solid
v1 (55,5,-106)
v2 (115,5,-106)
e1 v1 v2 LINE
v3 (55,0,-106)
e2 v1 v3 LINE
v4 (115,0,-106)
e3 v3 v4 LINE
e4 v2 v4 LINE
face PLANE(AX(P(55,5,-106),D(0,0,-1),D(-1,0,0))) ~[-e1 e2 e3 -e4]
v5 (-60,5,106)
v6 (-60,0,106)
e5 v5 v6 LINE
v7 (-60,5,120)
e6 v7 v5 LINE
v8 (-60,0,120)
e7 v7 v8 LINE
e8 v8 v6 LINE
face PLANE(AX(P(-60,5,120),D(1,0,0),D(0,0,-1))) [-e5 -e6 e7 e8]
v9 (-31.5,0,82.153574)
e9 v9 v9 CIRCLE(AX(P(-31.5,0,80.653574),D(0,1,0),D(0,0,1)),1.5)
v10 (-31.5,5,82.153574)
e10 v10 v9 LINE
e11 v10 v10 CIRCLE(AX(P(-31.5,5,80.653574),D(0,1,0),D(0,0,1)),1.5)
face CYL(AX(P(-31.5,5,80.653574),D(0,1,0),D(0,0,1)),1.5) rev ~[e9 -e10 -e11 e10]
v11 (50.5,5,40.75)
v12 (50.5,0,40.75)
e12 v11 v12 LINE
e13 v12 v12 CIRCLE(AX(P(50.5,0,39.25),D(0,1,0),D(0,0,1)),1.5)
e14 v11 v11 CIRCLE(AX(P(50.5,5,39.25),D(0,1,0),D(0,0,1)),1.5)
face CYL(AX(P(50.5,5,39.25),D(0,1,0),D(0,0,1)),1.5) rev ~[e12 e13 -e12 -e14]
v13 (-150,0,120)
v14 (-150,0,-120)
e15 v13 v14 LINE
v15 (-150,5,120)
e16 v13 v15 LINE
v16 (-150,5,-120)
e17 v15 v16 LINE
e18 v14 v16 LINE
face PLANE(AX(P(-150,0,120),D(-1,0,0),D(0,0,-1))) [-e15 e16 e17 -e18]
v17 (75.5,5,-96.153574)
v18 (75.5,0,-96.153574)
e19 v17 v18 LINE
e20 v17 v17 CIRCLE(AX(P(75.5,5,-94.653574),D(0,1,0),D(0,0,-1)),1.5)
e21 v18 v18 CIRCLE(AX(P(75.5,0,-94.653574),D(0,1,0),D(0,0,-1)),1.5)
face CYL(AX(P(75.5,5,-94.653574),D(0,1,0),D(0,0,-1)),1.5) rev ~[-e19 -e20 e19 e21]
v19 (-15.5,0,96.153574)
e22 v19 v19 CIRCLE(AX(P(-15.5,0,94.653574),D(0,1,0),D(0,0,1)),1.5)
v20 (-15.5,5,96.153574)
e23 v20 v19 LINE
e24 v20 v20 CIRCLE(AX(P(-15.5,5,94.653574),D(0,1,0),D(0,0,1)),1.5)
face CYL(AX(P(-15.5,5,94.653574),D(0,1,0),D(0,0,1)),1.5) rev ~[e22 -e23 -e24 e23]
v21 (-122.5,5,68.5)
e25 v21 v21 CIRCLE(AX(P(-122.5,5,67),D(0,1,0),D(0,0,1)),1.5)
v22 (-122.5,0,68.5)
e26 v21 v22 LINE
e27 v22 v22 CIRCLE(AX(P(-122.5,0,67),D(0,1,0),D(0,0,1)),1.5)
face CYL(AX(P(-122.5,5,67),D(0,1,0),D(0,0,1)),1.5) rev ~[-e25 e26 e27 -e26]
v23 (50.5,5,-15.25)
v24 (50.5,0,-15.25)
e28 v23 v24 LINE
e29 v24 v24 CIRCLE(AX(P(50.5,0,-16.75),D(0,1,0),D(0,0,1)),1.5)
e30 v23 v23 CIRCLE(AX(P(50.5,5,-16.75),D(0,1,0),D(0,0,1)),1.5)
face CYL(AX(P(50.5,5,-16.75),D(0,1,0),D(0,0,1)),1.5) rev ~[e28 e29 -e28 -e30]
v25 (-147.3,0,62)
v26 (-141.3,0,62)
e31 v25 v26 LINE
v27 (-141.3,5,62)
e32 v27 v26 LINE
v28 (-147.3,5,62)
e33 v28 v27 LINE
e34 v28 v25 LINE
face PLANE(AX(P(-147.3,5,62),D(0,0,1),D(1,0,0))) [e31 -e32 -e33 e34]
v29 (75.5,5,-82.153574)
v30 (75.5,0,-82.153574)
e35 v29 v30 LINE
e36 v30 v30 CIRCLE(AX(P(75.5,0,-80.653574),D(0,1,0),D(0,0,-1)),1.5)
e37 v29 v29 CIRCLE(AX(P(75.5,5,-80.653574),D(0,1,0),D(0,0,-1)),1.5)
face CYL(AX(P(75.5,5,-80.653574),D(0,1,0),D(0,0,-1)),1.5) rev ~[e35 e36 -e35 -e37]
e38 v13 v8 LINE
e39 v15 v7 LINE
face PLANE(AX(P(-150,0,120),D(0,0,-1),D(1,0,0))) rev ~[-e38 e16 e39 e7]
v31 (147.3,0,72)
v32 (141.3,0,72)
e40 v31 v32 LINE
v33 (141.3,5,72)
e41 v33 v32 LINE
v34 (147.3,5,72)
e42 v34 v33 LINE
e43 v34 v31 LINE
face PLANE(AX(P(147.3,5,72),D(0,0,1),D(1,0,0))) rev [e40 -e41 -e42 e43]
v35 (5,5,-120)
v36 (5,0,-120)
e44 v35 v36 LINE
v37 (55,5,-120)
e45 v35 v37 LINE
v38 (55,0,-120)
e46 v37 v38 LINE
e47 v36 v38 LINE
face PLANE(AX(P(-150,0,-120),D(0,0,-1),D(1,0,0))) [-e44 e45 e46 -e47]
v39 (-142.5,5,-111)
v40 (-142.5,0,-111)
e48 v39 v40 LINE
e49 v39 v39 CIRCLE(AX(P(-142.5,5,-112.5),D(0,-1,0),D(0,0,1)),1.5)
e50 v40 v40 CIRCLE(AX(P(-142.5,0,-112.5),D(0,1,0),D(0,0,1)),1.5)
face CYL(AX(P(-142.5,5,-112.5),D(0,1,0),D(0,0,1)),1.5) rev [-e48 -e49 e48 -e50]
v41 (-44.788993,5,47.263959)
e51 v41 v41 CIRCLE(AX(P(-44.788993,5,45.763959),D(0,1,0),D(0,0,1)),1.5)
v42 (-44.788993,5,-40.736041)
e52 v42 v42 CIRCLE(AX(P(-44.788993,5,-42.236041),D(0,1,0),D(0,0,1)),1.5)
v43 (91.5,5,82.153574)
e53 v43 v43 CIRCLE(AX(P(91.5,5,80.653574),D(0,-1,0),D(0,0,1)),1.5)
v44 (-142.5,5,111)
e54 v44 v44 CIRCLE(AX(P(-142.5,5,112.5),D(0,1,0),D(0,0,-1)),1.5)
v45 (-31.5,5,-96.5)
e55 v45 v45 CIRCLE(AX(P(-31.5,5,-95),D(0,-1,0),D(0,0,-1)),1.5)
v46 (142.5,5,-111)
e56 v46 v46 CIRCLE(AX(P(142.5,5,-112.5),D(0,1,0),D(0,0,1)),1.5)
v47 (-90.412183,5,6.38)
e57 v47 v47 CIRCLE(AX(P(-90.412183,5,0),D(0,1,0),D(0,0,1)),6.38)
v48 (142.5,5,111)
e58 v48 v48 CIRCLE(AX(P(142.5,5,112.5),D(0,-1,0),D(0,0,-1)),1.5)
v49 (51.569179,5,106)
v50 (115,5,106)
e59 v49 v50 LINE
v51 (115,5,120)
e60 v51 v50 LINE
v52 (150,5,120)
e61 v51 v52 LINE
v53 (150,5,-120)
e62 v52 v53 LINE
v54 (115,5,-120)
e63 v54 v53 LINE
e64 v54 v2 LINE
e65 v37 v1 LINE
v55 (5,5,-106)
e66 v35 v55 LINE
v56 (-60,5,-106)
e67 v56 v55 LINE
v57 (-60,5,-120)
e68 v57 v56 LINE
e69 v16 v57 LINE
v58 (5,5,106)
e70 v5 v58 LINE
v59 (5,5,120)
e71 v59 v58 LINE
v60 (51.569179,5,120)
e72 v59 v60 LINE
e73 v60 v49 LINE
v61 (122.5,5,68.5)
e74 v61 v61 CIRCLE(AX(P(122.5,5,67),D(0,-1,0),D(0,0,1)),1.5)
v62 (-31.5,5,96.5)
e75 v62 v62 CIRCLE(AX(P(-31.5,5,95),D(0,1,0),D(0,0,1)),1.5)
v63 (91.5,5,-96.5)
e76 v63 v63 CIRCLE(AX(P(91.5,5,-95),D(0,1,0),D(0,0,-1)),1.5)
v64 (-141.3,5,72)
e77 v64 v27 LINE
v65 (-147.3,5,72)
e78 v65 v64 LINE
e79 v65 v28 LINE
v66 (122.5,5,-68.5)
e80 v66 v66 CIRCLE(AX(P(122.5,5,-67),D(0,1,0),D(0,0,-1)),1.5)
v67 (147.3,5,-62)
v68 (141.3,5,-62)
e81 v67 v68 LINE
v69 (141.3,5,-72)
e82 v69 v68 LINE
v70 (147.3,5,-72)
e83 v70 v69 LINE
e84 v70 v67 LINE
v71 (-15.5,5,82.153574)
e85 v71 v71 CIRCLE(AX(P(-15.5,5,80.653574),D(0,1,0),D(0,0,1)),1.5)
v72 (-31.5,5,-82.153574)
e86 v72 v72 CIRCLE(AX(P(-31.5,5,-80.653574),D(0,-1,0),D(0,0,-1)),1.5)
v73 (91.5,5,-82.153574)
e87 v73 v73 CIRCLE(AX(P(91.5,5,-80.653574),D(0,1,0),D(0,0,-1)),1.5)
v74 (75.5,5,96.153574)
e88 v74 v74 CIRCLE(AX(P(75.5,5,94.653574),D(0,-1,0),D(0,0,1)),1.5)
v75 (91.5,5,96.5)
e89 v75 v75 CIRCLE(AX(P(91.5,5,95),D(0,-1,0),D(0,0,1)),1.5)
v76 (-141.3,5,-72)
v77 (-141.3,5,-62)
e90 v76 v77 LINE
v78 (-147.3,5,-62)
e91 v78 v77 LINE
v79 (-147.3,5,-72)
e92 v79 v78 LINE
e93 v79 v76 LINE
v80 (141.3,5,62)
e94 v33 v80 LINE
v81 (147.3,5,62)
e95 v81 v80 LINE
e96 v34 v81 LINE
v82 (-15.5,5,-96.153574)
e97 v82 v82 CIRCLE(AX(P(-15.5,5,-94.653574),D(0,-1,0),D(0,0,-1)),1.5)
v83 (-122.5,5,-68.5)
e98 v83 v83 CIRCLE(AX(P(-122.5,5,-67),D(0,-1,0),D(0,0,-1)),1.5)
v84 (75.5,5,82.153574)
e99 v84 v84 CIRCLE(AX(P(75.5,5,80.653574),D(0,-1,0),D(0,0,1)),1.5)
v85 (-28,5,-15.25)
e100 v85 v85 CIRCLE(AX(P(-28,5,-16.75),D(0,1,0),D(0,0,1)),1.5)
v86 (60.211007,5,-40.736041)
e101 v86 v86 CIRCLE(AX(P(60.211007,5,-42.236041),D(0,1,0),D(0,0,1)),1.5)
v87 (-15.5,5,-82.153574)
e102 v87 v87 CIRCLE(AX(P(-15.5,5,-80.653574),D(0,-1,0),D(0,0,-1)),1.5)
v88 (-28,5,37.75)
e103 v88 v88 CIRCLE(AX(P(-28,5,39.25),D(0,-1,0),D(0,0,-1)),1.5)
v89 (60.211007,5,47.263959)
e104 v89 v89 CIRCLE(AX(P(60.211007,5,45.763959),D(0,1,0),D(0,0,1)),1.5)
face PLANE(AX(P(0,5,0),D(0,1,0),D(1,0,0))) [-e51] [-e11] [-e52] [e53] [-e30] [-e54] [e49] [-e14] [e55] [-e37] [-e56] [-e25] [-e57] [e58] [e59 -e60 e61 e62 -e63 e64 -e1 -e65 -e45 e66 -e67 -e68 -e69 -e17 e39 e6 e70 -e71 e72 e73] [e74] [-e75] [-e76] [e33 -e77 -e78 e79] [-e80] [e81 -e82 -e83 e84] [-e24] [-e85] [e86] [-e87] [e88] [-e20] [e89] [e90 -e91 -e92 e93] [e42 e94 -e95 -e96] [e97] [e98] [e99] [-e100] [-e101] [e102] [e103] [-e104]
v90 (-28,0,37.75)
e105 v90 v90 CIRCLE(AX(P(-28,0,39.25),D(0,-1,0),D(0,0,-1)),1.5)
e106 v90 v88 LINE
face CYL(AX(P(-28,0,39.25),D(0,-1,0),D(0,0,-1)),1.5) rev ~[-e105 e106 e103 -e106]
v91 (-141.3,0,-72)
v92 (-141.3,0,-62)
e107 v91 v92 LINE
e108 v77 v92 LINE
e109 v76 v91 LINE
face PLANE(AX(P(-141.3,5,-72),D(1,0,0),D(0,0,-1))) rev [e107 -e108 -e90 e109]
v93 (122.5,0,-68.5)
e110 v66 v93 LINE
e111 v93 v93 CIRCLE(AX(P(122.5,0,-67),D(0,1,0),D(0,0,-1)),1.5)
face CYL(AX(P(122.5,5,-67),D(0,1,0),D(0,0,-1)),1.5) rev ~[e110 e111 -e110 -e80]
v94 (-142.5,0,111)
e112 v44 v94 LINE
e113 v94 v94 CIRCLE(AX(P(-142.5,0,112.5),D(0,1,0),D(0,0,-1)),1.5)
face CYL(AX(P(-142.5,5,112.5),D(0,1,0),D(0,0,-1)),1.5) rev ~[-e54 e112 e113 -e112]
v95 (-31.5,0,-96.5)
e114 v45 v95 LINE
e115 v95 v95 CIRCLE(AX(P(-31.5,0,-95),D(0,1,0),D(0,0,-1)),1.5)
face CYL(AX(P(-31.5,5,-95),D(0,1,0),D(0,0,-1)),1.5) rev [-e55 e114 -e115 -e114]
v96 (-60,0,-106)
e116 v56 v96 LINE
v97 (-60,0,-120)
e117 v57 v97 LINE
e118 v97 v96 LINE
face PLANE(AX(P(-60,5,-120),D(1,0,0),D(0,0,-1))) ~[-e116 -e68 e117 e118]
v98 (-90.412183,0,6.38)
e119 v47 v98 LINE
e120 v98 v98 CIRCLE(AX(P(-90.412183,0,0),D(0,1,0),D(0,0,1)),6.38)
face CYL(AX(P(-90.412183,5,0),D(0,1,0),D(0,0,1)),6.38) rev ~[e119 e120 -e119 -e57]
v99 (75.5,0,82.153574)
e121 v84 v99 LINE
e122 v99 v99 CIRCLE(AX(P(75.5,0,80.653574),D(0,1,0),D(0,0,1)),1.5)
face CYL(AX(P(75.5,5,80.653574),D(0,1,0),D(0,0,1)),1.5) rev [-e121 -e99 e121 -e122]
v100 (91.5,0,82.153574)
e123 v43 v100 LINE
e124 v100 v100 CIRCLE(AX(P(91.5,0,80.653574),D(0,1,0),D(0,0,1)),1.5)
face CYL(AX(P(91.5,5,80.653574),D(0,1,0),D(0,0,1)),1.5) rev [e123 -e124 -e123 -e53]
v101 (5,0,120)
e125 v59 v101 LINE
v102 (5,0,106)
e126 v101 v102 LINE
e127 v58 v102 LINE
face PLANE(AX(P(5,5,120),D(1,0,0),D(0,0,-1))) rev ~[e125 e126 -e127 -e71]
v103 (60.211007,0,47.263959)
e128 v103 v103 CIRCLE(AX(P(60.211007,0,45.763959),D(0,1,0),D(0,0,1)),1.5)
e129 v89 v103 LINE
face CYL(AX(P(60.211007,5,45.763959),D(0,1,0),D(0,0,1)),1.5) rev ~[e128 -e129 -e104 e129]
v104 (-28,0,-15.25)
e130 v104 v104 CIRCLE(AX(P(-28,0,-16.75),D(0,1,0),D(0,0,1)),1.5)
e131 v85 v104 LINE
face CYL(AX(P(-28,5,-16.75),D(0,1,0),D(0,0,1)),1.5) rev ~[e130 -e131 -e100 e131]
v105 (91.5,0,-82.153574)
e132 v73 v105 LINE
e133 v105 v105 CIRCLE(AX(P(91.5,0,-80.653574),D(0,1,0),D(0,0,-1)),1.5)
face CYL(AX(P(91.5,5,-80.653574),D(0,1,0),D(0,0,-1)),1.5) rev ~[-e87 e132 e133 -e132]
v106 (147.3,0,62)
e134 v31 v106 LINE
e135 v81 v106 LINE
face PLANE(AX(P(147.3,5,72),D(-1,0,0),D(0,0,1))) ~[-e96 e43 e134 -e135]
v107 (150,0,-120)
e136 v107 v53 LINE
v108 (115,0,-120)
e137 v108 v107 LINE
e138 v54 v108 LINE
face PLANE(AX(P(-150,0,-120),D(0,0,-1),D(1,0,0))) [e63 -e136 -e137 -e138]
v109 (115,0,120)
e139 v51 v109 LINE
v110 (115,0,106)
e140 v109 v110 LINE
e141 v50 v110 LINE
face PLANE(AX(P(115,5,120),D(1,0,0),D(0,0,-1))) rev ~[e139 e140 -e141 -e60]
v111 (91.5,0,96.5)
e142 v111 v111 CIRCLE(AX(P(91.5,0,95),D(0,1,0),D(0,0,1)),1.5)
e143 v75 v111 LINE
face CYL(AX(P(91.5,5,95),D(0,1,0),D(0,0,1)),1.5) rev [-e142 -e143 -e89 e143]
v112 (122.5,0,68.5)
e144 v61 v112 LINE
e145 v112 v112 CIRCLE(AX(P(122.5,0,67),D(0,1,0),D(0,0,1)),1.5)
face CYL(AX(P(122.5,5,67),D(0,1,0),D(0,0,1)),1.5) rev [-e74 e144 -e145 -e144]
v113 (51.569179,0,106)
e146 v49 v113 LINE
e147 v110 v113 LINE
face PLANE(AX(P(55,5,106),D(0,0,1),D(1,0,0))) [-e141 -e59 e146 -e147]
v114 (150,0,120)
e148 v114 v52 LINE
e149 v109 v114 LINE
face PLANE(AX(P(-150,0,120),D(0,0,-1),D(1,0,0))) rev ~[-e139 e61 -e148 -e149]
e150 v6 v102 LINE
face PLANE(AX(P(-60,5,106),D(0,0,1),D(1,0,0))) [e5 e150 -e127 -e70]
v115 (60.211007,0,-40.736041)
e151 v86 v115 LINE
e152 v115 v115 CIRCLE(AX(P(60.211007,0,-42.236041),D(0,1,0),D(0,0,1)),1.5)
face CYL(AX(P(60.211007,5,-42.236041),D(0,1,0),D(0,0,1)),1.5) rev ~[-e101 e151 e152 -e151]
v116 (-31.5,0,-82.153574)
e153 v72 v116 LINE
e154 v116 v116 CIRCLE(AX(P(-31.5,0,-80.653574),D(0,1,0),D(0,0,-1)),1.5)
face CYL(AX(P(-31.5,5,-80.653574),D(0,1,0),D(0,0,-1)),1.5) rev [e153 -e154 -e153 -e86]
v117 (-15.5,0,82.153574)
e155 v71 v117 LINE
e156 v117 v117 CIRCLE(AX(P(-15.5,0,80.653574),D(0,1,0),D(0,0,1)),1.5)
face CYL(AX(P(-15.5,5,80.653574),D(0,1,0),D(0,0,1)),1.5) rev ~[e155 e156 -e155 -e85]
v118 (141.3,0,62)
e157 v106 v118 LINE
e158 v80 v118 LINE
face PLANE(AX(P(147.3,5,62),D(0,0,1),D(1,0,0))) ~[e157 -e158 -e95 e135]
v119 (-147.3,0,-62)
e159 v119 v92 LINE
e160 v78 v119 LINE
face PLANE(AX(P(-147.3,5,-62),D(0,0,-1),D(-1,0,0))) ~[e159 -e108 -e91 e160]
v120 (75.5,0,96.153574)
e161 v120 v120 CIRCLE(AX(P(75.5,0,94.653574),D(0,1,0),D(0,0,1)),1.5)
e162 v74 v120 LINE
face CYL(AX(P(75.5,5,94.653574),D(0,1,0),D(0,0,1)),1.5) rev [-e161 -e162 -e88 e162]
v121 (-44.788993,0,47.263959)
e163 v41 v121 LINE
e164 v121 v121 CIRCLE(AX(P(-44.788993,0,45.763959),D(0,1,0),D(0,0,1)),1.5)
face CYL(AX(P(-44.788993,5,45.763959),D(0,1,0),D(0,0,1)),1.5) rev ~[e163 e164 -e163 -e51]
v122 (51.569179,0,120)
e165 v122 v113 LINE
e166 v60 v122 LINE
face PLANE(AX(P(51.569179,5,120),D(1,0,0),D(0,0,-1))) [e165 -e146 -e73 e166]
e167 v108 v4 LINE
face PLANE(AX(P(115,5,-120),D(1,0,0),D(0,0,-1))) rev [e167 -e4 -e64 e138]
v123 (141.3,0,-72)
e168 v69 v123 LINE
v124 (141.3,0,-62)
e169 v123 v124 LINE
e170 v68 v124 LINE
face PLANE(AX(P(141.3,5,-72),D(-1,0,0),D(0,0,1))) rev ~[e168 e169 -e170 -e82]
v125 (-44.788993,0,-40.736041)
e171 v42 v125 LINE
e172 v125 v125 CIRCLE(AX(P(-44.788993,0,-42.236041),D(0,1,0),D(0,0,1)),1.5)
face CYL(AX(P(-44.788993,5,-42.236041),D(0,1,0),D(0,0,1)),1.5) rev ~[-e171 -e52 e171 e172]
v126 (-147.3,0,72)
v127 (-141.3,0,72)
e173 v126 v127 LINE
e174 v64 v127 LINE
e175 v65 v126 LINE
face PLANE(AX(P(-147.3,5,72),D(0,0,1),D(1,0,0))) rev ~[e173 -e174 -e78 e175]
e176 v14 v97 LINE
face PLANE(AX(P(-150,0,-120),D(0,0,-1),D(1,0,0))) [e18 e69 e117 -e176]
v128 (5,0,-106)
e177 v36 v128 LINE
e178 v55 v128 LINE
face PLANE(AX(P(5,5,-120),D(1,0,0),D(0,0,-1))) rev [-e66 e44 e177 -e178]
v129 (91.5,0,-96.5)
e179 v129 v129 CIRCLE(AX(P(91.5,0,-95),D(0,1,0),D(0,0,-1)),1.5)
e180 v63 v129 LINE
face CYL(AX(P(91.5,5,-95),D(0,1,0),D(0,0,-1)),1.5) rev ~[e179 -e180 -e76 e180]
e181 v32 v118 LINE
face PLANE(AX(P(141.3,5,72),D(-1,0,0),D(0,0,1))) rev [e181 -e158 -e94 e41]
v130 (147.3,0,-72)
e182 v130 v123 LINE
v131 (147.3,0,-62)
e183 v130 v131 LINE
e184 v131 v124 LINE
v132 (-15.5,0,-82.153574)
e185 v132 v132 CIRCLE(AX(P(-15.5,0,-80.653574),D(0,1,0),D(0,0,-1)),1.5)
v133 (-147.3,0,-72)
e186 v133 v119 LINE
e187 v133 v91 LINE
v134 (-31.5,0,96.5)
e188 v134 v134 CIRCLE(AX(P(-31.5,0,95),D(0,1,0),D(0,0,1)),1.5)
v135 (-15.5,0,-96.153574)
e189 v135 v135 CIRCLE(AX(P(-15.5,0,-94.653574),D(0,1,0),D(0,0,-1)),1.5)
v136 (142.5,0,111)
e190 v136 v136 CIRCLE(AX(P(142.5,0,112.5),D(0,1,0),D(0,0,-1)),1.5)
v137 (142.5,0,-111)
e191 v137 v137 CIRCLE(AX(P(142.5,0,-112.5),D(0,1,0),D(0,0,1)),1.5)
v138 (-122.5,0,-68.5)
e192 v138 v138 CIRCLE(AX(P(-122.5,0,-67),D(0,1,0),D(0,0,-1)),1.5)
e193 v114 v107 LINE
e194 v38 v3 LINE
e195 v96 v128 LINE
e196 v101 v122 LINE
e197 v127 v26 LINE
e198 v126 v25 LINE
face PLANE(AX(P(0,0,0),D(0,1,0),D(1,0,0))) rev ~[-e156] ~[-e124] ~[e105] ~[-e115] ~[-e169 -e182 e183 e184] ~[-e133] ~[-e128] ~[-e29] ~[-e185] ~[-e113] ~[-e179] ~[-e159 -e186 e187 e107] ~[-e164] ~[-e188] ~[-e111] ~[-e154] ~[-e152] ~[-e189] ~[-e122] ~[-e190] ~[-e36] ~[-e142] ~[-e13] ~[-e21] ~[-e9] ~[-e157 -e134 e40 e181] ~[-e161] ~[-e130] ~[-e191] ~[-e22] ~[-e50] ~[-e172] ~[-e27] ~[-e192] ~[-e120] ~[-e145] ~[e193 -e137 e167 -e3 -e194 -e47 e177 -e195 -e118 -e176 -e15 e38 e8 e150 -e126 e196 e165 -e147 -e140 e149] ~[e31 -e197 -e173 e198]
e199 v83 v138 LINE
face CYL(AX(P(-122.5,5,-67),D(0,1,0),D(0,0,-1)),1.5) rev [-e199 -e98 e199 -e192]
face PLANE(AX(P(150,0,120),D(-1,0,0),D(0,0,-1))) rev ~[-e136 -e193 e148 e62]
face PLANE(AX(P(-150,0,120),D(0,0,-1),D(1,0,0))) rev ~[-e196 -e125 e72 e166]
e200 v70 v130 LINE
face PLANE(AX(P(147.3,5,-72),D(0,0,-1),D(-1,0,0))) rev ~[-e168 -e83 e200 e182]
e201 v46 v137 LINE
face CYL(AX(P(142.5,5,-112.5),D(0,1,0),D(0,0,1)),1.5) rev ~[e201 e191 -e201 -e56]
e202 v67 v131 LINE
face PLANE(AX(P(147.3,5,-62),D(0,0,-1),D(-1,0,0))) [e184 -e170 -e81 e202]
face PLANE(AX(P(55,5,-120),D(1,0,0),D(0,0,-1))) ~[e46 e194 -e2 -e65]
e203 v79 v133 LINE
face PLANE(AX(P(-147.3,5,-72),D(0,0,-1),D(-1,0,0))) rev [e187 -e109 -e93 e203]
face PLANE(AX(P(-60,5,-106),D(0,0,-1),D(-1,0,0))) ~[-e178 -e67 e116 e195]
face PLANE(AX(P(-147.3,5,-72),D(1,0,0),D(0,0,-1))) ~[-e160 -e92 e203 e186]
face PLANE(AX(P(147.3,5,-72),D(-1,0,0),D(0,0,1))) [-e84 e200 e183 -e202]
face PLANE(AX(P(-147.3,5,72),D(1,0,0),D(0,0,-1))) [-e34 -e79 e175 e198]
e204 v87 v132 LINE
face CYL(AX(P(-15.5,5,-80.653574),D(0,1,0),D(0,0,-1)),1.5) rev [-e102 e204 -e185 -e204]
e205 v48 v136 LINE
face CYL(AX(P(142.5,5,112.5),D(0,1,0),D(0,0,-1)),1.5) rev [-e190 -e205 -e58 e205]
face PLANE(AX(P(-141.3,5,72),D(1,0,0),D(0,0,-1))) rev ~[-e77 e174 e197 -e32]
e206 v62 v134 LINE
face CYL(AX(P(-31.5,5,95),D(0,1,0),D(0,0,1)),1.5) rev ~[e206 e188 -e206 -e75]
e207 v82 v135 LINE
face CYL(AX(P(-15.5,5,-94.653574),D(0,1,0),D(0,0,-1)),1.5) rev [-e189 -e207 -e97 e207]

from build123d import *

# Parameters (mm, degrees)
SKETCH2_W                = 300
SKETCH2_H                = 240
BOSS_EXTRUDE1_DEPTH      = 5
SKETCH3_R                = 1.5
CUT_EXTRUDE1_DEPTH       = 193.158788506
MIRROR2_COPY_1_SKETCH_R  = 1.5
MIRROR2_COPY_1_DEPTH     = 193.158788506
SKETCH23_W               = 65
SKETCH23_H               = 14
CUT_EXTRUDE16_DEPTH      = 193.158788506
SKETCH31_W               = 60
SKETCH31_H               = 14
CUT_EXTRUDE17_DEPTH      = 10
SKETCH45_R               = 1.5
CUT_EXTRUDE29_DEPTH      = 193.158788506
SKETCH47_R               = 1.5
CUT_EXTRUDE30_DEPTH      = 193.158788506
SKETCH48_R               = 1.5
CUT_EXTRUDE31_DEPTH      = 193.158788506
SKETCH35_R               = 1.5
CUT_EXTRUDE32_DEPTH      = 193.158788506
SKETCH9_R                = 1.5
CUT_EXTRUDE33_DEPTH      = 193.158788506
SKETCH52_R               = 1.5
CUT_EXTRUDE34_DEPTH      = 193.158788506
SKETCH10_R               = 1.5
SKETCH10_W               = 6
SKETCH10_H               = 10
CUT_EXTRUDE6_DEPTH       = 193.158788506
MIRROR13_COPY_1_SKETCH_R = 1.5
MIRROR13_COPY_1_SKETCH_W = 6
MIRROR13_COPY_1_SKETCH_H = 10
MIRROR13_COPY_1_DEPTH    = 193.158788506
SKETCH55_R               = 1.5
CUT_EXTRUDE35_DEPTH      = 193.158788506
MIRROR25_COPY_1_SKETCH_R = 1.5
MIRROR25_COPY_1_DEPTH    = 193.158788506
SKETCH59_W               = 3.430821158
SKETCH59_H               = 14
CUT_EXTRUDE37_DEPTH      = 193.158788506
SKETCH60_R               = 6.38
CUT_EXTRUDE38_DEPTH      = 193.158788506


with BuildPart() as part:
    # Sketch2 → Boss-Extrude1 (new body)
    with BuildSketch(Plane(origin=(0, 0, 0), x_dir=(1, 0, 0), z_dir=(0, 1, 0))):
        Rectangle(SKETCH2_W, SKETCH2_H)
    extrude(amount=BOSS_EXTRUDE1_DEPTH)

    # Sketch3 → Cut-Extrude1 (cut, through all)
    with BuildSketch(Plane(origin=(0, 5, 0), x_dir=(1, 0, 0), z_dir=(0, 1, 0))):
        with Locations(Location((142.5, 112.5, 0), (0, 0, 270))):
            Circle(SKETCH3_R)
    cut_extrude1 = extrude(amount=-CUT_EXTRUDE1_DEPTH, mode=Mode.SUBTRACT)

    # Mirror1: Cut-Extrude1 across plane
    add(cut_extrude1.mirror(Plane(origin=(0, 0, 0), x_dir=(0, 0, 1), z_dir=(1, 0, 0))), mode=Mode.SUBTRACT)

    # Mirror2: Cut-Extrude1 across plane
    add(cut_extrude1.mirror(Plane.XY), mode=Mode.SUBTRACT)

    # Mirror2 copy 1 sketch → Mirror2 copy 1 (cut, through all)
    with BuildSketch(Plane(origin=(0, 5, 0), x_dir=(-1, 0, 0), z_dir=(0, 1, 0))):
        with Locations(Location((142.5, 112.5, 0), (0, 0, 270))):
            Circle(MIRROR2_COPY_1_SKETCH_R)
    extrude(amount=-MIRROR2_COPY_1_DEPTH, mode=Mode.SUBTRACT)

    # Sketch23 → Cut-Extrude16 (cut, through all)
    with BuildSketch(Plane(origin=(0, 5, 0), x_dir=(1, 0, 0), z_dir=(0, 1, 0))):
        with Locations((-27.5, -113)):
            Rectangle(SKETCH23_W, SKETCH23_H)
    cut_extrude16 = extrude(amount=-CUT_EXTRUDE16_DEPTH, mode=Mode.SUBTRACT)

    # Sketch31 → Cut-Extrude17 (cut)
    with BuildSketch(Plane(origin=(0, 5, 0), x_dir=(1, 0, 0), z_dir=(0, 1, 0))):
        with Locations((85, -113)):
            Rectangle(SKETCH31_W, SKETCH31_H)
    cut_extrude17 = extrude(amount=-CUT_EXTRUDE17_DEPTH, mode=Mode.SUBTRACT)

    # Mirror14: Cut-Extrude16 across plane
    add(cut_extrude16.mirror(Plane.XY), mode=Mode.SUBTRACT)

    # Sketch45 → Cut-Extrude29 (cut, through all)
    with BuildSketch(Plane(origin=(0, 5, 0), x_dir=(1, 0, 0), z_dir=(0, 1, 0))):
        with Locations(Location((-44.788992857, 42.236040749, 0), (0, 0, 270))):
            Circle(SKETCH45_R)
    extrude(amount=-CUT_EXTRUDE29_DEPTH, mode=Mode.SUBTRACT)

    # Sketch47 → Cut-Extrude30 (cut, through all)
    with BuildSketch(Plane(origin=(0, 5, 0), x_dir=(1, 0, 0), z_dir=(0, 1, 0))):
        with Locations(Location((60.211007143, -45.763959251, 0), (0, 0, 270))):
            Circle(SKETCH47_R)
    extrude(amount=-CUT_EXTRUDE30_DEPTH, mode=Mode.SUBTRACT)

    # Sketch48 → Cut-Extrude31 (cut, through all)
    with BuildSketch(Plane(origin=(0, 5, 0), x_dir=(1, 0, 0), z_dir=(0, 1, 0))):
        with Locations(Location((60.211007143, 42.236040749, 0), (0, 0, 270))):
            Circle(SKETCH48_R)
    extrude(amount=-CUT_EXTRUDE31_DEPTH, mode=Mode.SUBTRACT)

    # Sketch35 → Cut-Extrude32 (cut, through all)
    with BuildSketch(Plane(origin=(0, 5, 0), x_dir=(1, 0, 0), z_dir=(0, 1, 0))):
        with Locations(Location((-44.788992857, -45.763959251, 0), (0, 0, 270))):
            Circle(SKETCH35_R)
    extrude(amount=-CUT_EXTRUDE32_DEPTH, mode=Mode.SUBTRACT)

    # Sketch9 → Cut-Extrude33 (cut, through all)
    with BuildSketch(Plane(origin=(0, 0, 0), x_dir=(-1, 0, 0), z_dir=(0, -1, 0))):
        with Locations(Location((28, -39.25, 0), (0, 0, 90))):
            Circle(SKETCH9_R)
    extrude(amount=-CUT_EXTRUDE33_DEPTH, mode=Mode.SUBTRACT)

    # Sketch52 → Cut-Extrude34 (cut, through all)
    with BuildSketch(Plane(origin=(0, 5, 0), x_dir=(1, 0, 0), z_dir=(0, 1, 0))):
        with Locations(Location((-28, 16.75, 0), (0, 0, 270))):
            Circle(SKETCH52_R)
        with Locations(Location((50.5, 16.75, 0), (0, 0, 270))):
            Circle(SKETCH52_R)
        with Locations(Location((50.5, -39.25, 0), (0, 0, 270))):
            Circle(SKETCH52_R)
    extrude(amount=-CUT_EXTRUDE34_DEPTH, mode=Mode.SUBTRACT)

    # Mirror20: Cut-Extrude17 across plane
    add(cut_extrude17.mirror(Plane.XY), mode=Mode.SUBTRACT)

    # Sketch10 → Cut-Extrude6 (cut, through all)
    with BuildSketch(Plane(origin=(0, 5, 0), x_dir=(1, 0, 0), z_dir=(0, 1, 0))):
        with Locations(Location((-122.5, -67, 0), (0, 0, 270))):
            Circle(SKETCH10_R)
        with Locations((-144.3, -67)):
            Rectangle(SKETCH10_W, SKETCH10_H)
    cut_extrude6 = extrude(amount=-CUT_EXTRUDE6_DEPTH, mode=Mode.SUBTRACT)

    # Mirror12: Cut-Extrude6 across plane
    add(cut_extrude6.mirror(Plane.XY), mode=Mode.SUBTRACT)

    # Mirror13: Cut-Extrude6 across plane
    add(cut_extrude6.mirror(Plane(origin=(0, 0, 0), x_dir=(0, 0, 1), z_dir=(1, 0, 0))), mode=Mode.SUBTRACT)

    # Mirror13 copy 1 sketch → Mirror13 copy 1 (cut, through all)
    with BuildSketch(Plane(origin=(0, 5, 0), x_dir=(-1, 0, 0), z_dir=(0, 1, 0))):
        with Locations(Location((-122.5, -67, 0), (0, 0, 270))):
            Circle(MIRROR13_COPY_1_SKETCH_R)
        with Locations((-144.3, -67)):
            Rectangle(MIRROR13_COPY_1_SKETCH_W, MIRROR13_COPY_1_SKETCH_H)
    extrude(amount=-MIRROR13_COPY_1_DEPTH, mode=Mode.SUBTRACT)

    # Sketch55 → Cut-Extrude35 (cut, through all)
    with BuildSketch(Plane(origin=(0, 5, 0), x_dir=(1, 0, 0), z_dir=(0, 1, 0))):
        with Locations(Location((-31.5, -95, 0), (0, 0, 270))):
            Circle(SKETCH55_R)
        with Locations(Location((-15.5, -80.653573709, 0), (0, 0, 270))):
            Circle(SKETCH55_R)
        with Locations(Location((-15.5, -94.653573709, 0), (0, 0, 270))):
            Circle(SKETCH55_R)
        with Locations(Location((-31.5, -80.653573709, 0), (0, 0, 270))):
            Circle(SKETCH55_R)
    cut_extrude35 = extrude(amount=-CUT_EXTRUDE35_DEPTH, mode=Mode.SUBTRACT)

    # Mirror24: Cut-Extrude35 across plane
    add(cut_extrude35.mirror(Plane(origin=(30, 0, 0), x_dir=(0, 0, 1), z_dir=(1, 0, 0))), mode=Mode.SUBTRACT)

    # Mirror25: Cut-Extrude35 across plane
    add(cut_extrude35.mirror(Plane.XY), mode=Mode.SUBTRACT)

    # Mirror25 copy 1 sketch → Mirror25 copy 1 (cut, through all)
    with BuildSketch(Plane(origin=(60, 5, 0), x_dir=(-1, 0, 0), z_dir=(0, 1, 0))):
        with Locations(Location((-31.5, -95, 0), (0, 0, 270))):
            Circle(MIRROR25_COPY_1_SKETCH_R)
        with Locations(Location((-15.5, -80.653573709, 0), (0, 0, 270))):
            Circle(MIRROR25_COPY_1_SKETCH_R)
        with Locations(Location((-15.5, -94.653573709, 0), (0, 0, 270))):
            Circle(MIRROR25_COPY_1_SKETCH_R)
        with Locations(Location((-31.5, -80.653573709, 0), (0, 0, 270))):
            Circle(MIRROR25_COPY_1_SKETCH_R)
    extrude(amount=-MIRROR25_COPY_1_DEPTH, mode=Mode.SUBTRACT)

    # Sketch59 → Cut-Extrude37 (cut, through all)
    with BuildSketch(Plane(origin=(0, 5, 0), x_dir=(1, 0, 0), z_dir=(0, 1, 0))):
        with Locations((53.284589421, -113)):
            Rectangle(SKETCH59_W, SKETCH59_H)
    extrude(amount=-CUT_EXTRUDE37_DEPTH, mode=Mode.SUBTRACT)

    # Sketch60 → Cut-Extrude38 (cut, through all)
    with BuildSketch(Plane(origin=(0, 5, 0), x_dir=(1, 0, 0), z_dir=(0, 1, 0))):
        with Locations(Location((-90.412183362, 0, 0), (0, 0, 270))):
            Circle(SKETCH60_R)
    extrude(amount=-CUT_EXTRUDE38_DEPTH, mode=Mode.SUBTRACT)


solid = part.part
